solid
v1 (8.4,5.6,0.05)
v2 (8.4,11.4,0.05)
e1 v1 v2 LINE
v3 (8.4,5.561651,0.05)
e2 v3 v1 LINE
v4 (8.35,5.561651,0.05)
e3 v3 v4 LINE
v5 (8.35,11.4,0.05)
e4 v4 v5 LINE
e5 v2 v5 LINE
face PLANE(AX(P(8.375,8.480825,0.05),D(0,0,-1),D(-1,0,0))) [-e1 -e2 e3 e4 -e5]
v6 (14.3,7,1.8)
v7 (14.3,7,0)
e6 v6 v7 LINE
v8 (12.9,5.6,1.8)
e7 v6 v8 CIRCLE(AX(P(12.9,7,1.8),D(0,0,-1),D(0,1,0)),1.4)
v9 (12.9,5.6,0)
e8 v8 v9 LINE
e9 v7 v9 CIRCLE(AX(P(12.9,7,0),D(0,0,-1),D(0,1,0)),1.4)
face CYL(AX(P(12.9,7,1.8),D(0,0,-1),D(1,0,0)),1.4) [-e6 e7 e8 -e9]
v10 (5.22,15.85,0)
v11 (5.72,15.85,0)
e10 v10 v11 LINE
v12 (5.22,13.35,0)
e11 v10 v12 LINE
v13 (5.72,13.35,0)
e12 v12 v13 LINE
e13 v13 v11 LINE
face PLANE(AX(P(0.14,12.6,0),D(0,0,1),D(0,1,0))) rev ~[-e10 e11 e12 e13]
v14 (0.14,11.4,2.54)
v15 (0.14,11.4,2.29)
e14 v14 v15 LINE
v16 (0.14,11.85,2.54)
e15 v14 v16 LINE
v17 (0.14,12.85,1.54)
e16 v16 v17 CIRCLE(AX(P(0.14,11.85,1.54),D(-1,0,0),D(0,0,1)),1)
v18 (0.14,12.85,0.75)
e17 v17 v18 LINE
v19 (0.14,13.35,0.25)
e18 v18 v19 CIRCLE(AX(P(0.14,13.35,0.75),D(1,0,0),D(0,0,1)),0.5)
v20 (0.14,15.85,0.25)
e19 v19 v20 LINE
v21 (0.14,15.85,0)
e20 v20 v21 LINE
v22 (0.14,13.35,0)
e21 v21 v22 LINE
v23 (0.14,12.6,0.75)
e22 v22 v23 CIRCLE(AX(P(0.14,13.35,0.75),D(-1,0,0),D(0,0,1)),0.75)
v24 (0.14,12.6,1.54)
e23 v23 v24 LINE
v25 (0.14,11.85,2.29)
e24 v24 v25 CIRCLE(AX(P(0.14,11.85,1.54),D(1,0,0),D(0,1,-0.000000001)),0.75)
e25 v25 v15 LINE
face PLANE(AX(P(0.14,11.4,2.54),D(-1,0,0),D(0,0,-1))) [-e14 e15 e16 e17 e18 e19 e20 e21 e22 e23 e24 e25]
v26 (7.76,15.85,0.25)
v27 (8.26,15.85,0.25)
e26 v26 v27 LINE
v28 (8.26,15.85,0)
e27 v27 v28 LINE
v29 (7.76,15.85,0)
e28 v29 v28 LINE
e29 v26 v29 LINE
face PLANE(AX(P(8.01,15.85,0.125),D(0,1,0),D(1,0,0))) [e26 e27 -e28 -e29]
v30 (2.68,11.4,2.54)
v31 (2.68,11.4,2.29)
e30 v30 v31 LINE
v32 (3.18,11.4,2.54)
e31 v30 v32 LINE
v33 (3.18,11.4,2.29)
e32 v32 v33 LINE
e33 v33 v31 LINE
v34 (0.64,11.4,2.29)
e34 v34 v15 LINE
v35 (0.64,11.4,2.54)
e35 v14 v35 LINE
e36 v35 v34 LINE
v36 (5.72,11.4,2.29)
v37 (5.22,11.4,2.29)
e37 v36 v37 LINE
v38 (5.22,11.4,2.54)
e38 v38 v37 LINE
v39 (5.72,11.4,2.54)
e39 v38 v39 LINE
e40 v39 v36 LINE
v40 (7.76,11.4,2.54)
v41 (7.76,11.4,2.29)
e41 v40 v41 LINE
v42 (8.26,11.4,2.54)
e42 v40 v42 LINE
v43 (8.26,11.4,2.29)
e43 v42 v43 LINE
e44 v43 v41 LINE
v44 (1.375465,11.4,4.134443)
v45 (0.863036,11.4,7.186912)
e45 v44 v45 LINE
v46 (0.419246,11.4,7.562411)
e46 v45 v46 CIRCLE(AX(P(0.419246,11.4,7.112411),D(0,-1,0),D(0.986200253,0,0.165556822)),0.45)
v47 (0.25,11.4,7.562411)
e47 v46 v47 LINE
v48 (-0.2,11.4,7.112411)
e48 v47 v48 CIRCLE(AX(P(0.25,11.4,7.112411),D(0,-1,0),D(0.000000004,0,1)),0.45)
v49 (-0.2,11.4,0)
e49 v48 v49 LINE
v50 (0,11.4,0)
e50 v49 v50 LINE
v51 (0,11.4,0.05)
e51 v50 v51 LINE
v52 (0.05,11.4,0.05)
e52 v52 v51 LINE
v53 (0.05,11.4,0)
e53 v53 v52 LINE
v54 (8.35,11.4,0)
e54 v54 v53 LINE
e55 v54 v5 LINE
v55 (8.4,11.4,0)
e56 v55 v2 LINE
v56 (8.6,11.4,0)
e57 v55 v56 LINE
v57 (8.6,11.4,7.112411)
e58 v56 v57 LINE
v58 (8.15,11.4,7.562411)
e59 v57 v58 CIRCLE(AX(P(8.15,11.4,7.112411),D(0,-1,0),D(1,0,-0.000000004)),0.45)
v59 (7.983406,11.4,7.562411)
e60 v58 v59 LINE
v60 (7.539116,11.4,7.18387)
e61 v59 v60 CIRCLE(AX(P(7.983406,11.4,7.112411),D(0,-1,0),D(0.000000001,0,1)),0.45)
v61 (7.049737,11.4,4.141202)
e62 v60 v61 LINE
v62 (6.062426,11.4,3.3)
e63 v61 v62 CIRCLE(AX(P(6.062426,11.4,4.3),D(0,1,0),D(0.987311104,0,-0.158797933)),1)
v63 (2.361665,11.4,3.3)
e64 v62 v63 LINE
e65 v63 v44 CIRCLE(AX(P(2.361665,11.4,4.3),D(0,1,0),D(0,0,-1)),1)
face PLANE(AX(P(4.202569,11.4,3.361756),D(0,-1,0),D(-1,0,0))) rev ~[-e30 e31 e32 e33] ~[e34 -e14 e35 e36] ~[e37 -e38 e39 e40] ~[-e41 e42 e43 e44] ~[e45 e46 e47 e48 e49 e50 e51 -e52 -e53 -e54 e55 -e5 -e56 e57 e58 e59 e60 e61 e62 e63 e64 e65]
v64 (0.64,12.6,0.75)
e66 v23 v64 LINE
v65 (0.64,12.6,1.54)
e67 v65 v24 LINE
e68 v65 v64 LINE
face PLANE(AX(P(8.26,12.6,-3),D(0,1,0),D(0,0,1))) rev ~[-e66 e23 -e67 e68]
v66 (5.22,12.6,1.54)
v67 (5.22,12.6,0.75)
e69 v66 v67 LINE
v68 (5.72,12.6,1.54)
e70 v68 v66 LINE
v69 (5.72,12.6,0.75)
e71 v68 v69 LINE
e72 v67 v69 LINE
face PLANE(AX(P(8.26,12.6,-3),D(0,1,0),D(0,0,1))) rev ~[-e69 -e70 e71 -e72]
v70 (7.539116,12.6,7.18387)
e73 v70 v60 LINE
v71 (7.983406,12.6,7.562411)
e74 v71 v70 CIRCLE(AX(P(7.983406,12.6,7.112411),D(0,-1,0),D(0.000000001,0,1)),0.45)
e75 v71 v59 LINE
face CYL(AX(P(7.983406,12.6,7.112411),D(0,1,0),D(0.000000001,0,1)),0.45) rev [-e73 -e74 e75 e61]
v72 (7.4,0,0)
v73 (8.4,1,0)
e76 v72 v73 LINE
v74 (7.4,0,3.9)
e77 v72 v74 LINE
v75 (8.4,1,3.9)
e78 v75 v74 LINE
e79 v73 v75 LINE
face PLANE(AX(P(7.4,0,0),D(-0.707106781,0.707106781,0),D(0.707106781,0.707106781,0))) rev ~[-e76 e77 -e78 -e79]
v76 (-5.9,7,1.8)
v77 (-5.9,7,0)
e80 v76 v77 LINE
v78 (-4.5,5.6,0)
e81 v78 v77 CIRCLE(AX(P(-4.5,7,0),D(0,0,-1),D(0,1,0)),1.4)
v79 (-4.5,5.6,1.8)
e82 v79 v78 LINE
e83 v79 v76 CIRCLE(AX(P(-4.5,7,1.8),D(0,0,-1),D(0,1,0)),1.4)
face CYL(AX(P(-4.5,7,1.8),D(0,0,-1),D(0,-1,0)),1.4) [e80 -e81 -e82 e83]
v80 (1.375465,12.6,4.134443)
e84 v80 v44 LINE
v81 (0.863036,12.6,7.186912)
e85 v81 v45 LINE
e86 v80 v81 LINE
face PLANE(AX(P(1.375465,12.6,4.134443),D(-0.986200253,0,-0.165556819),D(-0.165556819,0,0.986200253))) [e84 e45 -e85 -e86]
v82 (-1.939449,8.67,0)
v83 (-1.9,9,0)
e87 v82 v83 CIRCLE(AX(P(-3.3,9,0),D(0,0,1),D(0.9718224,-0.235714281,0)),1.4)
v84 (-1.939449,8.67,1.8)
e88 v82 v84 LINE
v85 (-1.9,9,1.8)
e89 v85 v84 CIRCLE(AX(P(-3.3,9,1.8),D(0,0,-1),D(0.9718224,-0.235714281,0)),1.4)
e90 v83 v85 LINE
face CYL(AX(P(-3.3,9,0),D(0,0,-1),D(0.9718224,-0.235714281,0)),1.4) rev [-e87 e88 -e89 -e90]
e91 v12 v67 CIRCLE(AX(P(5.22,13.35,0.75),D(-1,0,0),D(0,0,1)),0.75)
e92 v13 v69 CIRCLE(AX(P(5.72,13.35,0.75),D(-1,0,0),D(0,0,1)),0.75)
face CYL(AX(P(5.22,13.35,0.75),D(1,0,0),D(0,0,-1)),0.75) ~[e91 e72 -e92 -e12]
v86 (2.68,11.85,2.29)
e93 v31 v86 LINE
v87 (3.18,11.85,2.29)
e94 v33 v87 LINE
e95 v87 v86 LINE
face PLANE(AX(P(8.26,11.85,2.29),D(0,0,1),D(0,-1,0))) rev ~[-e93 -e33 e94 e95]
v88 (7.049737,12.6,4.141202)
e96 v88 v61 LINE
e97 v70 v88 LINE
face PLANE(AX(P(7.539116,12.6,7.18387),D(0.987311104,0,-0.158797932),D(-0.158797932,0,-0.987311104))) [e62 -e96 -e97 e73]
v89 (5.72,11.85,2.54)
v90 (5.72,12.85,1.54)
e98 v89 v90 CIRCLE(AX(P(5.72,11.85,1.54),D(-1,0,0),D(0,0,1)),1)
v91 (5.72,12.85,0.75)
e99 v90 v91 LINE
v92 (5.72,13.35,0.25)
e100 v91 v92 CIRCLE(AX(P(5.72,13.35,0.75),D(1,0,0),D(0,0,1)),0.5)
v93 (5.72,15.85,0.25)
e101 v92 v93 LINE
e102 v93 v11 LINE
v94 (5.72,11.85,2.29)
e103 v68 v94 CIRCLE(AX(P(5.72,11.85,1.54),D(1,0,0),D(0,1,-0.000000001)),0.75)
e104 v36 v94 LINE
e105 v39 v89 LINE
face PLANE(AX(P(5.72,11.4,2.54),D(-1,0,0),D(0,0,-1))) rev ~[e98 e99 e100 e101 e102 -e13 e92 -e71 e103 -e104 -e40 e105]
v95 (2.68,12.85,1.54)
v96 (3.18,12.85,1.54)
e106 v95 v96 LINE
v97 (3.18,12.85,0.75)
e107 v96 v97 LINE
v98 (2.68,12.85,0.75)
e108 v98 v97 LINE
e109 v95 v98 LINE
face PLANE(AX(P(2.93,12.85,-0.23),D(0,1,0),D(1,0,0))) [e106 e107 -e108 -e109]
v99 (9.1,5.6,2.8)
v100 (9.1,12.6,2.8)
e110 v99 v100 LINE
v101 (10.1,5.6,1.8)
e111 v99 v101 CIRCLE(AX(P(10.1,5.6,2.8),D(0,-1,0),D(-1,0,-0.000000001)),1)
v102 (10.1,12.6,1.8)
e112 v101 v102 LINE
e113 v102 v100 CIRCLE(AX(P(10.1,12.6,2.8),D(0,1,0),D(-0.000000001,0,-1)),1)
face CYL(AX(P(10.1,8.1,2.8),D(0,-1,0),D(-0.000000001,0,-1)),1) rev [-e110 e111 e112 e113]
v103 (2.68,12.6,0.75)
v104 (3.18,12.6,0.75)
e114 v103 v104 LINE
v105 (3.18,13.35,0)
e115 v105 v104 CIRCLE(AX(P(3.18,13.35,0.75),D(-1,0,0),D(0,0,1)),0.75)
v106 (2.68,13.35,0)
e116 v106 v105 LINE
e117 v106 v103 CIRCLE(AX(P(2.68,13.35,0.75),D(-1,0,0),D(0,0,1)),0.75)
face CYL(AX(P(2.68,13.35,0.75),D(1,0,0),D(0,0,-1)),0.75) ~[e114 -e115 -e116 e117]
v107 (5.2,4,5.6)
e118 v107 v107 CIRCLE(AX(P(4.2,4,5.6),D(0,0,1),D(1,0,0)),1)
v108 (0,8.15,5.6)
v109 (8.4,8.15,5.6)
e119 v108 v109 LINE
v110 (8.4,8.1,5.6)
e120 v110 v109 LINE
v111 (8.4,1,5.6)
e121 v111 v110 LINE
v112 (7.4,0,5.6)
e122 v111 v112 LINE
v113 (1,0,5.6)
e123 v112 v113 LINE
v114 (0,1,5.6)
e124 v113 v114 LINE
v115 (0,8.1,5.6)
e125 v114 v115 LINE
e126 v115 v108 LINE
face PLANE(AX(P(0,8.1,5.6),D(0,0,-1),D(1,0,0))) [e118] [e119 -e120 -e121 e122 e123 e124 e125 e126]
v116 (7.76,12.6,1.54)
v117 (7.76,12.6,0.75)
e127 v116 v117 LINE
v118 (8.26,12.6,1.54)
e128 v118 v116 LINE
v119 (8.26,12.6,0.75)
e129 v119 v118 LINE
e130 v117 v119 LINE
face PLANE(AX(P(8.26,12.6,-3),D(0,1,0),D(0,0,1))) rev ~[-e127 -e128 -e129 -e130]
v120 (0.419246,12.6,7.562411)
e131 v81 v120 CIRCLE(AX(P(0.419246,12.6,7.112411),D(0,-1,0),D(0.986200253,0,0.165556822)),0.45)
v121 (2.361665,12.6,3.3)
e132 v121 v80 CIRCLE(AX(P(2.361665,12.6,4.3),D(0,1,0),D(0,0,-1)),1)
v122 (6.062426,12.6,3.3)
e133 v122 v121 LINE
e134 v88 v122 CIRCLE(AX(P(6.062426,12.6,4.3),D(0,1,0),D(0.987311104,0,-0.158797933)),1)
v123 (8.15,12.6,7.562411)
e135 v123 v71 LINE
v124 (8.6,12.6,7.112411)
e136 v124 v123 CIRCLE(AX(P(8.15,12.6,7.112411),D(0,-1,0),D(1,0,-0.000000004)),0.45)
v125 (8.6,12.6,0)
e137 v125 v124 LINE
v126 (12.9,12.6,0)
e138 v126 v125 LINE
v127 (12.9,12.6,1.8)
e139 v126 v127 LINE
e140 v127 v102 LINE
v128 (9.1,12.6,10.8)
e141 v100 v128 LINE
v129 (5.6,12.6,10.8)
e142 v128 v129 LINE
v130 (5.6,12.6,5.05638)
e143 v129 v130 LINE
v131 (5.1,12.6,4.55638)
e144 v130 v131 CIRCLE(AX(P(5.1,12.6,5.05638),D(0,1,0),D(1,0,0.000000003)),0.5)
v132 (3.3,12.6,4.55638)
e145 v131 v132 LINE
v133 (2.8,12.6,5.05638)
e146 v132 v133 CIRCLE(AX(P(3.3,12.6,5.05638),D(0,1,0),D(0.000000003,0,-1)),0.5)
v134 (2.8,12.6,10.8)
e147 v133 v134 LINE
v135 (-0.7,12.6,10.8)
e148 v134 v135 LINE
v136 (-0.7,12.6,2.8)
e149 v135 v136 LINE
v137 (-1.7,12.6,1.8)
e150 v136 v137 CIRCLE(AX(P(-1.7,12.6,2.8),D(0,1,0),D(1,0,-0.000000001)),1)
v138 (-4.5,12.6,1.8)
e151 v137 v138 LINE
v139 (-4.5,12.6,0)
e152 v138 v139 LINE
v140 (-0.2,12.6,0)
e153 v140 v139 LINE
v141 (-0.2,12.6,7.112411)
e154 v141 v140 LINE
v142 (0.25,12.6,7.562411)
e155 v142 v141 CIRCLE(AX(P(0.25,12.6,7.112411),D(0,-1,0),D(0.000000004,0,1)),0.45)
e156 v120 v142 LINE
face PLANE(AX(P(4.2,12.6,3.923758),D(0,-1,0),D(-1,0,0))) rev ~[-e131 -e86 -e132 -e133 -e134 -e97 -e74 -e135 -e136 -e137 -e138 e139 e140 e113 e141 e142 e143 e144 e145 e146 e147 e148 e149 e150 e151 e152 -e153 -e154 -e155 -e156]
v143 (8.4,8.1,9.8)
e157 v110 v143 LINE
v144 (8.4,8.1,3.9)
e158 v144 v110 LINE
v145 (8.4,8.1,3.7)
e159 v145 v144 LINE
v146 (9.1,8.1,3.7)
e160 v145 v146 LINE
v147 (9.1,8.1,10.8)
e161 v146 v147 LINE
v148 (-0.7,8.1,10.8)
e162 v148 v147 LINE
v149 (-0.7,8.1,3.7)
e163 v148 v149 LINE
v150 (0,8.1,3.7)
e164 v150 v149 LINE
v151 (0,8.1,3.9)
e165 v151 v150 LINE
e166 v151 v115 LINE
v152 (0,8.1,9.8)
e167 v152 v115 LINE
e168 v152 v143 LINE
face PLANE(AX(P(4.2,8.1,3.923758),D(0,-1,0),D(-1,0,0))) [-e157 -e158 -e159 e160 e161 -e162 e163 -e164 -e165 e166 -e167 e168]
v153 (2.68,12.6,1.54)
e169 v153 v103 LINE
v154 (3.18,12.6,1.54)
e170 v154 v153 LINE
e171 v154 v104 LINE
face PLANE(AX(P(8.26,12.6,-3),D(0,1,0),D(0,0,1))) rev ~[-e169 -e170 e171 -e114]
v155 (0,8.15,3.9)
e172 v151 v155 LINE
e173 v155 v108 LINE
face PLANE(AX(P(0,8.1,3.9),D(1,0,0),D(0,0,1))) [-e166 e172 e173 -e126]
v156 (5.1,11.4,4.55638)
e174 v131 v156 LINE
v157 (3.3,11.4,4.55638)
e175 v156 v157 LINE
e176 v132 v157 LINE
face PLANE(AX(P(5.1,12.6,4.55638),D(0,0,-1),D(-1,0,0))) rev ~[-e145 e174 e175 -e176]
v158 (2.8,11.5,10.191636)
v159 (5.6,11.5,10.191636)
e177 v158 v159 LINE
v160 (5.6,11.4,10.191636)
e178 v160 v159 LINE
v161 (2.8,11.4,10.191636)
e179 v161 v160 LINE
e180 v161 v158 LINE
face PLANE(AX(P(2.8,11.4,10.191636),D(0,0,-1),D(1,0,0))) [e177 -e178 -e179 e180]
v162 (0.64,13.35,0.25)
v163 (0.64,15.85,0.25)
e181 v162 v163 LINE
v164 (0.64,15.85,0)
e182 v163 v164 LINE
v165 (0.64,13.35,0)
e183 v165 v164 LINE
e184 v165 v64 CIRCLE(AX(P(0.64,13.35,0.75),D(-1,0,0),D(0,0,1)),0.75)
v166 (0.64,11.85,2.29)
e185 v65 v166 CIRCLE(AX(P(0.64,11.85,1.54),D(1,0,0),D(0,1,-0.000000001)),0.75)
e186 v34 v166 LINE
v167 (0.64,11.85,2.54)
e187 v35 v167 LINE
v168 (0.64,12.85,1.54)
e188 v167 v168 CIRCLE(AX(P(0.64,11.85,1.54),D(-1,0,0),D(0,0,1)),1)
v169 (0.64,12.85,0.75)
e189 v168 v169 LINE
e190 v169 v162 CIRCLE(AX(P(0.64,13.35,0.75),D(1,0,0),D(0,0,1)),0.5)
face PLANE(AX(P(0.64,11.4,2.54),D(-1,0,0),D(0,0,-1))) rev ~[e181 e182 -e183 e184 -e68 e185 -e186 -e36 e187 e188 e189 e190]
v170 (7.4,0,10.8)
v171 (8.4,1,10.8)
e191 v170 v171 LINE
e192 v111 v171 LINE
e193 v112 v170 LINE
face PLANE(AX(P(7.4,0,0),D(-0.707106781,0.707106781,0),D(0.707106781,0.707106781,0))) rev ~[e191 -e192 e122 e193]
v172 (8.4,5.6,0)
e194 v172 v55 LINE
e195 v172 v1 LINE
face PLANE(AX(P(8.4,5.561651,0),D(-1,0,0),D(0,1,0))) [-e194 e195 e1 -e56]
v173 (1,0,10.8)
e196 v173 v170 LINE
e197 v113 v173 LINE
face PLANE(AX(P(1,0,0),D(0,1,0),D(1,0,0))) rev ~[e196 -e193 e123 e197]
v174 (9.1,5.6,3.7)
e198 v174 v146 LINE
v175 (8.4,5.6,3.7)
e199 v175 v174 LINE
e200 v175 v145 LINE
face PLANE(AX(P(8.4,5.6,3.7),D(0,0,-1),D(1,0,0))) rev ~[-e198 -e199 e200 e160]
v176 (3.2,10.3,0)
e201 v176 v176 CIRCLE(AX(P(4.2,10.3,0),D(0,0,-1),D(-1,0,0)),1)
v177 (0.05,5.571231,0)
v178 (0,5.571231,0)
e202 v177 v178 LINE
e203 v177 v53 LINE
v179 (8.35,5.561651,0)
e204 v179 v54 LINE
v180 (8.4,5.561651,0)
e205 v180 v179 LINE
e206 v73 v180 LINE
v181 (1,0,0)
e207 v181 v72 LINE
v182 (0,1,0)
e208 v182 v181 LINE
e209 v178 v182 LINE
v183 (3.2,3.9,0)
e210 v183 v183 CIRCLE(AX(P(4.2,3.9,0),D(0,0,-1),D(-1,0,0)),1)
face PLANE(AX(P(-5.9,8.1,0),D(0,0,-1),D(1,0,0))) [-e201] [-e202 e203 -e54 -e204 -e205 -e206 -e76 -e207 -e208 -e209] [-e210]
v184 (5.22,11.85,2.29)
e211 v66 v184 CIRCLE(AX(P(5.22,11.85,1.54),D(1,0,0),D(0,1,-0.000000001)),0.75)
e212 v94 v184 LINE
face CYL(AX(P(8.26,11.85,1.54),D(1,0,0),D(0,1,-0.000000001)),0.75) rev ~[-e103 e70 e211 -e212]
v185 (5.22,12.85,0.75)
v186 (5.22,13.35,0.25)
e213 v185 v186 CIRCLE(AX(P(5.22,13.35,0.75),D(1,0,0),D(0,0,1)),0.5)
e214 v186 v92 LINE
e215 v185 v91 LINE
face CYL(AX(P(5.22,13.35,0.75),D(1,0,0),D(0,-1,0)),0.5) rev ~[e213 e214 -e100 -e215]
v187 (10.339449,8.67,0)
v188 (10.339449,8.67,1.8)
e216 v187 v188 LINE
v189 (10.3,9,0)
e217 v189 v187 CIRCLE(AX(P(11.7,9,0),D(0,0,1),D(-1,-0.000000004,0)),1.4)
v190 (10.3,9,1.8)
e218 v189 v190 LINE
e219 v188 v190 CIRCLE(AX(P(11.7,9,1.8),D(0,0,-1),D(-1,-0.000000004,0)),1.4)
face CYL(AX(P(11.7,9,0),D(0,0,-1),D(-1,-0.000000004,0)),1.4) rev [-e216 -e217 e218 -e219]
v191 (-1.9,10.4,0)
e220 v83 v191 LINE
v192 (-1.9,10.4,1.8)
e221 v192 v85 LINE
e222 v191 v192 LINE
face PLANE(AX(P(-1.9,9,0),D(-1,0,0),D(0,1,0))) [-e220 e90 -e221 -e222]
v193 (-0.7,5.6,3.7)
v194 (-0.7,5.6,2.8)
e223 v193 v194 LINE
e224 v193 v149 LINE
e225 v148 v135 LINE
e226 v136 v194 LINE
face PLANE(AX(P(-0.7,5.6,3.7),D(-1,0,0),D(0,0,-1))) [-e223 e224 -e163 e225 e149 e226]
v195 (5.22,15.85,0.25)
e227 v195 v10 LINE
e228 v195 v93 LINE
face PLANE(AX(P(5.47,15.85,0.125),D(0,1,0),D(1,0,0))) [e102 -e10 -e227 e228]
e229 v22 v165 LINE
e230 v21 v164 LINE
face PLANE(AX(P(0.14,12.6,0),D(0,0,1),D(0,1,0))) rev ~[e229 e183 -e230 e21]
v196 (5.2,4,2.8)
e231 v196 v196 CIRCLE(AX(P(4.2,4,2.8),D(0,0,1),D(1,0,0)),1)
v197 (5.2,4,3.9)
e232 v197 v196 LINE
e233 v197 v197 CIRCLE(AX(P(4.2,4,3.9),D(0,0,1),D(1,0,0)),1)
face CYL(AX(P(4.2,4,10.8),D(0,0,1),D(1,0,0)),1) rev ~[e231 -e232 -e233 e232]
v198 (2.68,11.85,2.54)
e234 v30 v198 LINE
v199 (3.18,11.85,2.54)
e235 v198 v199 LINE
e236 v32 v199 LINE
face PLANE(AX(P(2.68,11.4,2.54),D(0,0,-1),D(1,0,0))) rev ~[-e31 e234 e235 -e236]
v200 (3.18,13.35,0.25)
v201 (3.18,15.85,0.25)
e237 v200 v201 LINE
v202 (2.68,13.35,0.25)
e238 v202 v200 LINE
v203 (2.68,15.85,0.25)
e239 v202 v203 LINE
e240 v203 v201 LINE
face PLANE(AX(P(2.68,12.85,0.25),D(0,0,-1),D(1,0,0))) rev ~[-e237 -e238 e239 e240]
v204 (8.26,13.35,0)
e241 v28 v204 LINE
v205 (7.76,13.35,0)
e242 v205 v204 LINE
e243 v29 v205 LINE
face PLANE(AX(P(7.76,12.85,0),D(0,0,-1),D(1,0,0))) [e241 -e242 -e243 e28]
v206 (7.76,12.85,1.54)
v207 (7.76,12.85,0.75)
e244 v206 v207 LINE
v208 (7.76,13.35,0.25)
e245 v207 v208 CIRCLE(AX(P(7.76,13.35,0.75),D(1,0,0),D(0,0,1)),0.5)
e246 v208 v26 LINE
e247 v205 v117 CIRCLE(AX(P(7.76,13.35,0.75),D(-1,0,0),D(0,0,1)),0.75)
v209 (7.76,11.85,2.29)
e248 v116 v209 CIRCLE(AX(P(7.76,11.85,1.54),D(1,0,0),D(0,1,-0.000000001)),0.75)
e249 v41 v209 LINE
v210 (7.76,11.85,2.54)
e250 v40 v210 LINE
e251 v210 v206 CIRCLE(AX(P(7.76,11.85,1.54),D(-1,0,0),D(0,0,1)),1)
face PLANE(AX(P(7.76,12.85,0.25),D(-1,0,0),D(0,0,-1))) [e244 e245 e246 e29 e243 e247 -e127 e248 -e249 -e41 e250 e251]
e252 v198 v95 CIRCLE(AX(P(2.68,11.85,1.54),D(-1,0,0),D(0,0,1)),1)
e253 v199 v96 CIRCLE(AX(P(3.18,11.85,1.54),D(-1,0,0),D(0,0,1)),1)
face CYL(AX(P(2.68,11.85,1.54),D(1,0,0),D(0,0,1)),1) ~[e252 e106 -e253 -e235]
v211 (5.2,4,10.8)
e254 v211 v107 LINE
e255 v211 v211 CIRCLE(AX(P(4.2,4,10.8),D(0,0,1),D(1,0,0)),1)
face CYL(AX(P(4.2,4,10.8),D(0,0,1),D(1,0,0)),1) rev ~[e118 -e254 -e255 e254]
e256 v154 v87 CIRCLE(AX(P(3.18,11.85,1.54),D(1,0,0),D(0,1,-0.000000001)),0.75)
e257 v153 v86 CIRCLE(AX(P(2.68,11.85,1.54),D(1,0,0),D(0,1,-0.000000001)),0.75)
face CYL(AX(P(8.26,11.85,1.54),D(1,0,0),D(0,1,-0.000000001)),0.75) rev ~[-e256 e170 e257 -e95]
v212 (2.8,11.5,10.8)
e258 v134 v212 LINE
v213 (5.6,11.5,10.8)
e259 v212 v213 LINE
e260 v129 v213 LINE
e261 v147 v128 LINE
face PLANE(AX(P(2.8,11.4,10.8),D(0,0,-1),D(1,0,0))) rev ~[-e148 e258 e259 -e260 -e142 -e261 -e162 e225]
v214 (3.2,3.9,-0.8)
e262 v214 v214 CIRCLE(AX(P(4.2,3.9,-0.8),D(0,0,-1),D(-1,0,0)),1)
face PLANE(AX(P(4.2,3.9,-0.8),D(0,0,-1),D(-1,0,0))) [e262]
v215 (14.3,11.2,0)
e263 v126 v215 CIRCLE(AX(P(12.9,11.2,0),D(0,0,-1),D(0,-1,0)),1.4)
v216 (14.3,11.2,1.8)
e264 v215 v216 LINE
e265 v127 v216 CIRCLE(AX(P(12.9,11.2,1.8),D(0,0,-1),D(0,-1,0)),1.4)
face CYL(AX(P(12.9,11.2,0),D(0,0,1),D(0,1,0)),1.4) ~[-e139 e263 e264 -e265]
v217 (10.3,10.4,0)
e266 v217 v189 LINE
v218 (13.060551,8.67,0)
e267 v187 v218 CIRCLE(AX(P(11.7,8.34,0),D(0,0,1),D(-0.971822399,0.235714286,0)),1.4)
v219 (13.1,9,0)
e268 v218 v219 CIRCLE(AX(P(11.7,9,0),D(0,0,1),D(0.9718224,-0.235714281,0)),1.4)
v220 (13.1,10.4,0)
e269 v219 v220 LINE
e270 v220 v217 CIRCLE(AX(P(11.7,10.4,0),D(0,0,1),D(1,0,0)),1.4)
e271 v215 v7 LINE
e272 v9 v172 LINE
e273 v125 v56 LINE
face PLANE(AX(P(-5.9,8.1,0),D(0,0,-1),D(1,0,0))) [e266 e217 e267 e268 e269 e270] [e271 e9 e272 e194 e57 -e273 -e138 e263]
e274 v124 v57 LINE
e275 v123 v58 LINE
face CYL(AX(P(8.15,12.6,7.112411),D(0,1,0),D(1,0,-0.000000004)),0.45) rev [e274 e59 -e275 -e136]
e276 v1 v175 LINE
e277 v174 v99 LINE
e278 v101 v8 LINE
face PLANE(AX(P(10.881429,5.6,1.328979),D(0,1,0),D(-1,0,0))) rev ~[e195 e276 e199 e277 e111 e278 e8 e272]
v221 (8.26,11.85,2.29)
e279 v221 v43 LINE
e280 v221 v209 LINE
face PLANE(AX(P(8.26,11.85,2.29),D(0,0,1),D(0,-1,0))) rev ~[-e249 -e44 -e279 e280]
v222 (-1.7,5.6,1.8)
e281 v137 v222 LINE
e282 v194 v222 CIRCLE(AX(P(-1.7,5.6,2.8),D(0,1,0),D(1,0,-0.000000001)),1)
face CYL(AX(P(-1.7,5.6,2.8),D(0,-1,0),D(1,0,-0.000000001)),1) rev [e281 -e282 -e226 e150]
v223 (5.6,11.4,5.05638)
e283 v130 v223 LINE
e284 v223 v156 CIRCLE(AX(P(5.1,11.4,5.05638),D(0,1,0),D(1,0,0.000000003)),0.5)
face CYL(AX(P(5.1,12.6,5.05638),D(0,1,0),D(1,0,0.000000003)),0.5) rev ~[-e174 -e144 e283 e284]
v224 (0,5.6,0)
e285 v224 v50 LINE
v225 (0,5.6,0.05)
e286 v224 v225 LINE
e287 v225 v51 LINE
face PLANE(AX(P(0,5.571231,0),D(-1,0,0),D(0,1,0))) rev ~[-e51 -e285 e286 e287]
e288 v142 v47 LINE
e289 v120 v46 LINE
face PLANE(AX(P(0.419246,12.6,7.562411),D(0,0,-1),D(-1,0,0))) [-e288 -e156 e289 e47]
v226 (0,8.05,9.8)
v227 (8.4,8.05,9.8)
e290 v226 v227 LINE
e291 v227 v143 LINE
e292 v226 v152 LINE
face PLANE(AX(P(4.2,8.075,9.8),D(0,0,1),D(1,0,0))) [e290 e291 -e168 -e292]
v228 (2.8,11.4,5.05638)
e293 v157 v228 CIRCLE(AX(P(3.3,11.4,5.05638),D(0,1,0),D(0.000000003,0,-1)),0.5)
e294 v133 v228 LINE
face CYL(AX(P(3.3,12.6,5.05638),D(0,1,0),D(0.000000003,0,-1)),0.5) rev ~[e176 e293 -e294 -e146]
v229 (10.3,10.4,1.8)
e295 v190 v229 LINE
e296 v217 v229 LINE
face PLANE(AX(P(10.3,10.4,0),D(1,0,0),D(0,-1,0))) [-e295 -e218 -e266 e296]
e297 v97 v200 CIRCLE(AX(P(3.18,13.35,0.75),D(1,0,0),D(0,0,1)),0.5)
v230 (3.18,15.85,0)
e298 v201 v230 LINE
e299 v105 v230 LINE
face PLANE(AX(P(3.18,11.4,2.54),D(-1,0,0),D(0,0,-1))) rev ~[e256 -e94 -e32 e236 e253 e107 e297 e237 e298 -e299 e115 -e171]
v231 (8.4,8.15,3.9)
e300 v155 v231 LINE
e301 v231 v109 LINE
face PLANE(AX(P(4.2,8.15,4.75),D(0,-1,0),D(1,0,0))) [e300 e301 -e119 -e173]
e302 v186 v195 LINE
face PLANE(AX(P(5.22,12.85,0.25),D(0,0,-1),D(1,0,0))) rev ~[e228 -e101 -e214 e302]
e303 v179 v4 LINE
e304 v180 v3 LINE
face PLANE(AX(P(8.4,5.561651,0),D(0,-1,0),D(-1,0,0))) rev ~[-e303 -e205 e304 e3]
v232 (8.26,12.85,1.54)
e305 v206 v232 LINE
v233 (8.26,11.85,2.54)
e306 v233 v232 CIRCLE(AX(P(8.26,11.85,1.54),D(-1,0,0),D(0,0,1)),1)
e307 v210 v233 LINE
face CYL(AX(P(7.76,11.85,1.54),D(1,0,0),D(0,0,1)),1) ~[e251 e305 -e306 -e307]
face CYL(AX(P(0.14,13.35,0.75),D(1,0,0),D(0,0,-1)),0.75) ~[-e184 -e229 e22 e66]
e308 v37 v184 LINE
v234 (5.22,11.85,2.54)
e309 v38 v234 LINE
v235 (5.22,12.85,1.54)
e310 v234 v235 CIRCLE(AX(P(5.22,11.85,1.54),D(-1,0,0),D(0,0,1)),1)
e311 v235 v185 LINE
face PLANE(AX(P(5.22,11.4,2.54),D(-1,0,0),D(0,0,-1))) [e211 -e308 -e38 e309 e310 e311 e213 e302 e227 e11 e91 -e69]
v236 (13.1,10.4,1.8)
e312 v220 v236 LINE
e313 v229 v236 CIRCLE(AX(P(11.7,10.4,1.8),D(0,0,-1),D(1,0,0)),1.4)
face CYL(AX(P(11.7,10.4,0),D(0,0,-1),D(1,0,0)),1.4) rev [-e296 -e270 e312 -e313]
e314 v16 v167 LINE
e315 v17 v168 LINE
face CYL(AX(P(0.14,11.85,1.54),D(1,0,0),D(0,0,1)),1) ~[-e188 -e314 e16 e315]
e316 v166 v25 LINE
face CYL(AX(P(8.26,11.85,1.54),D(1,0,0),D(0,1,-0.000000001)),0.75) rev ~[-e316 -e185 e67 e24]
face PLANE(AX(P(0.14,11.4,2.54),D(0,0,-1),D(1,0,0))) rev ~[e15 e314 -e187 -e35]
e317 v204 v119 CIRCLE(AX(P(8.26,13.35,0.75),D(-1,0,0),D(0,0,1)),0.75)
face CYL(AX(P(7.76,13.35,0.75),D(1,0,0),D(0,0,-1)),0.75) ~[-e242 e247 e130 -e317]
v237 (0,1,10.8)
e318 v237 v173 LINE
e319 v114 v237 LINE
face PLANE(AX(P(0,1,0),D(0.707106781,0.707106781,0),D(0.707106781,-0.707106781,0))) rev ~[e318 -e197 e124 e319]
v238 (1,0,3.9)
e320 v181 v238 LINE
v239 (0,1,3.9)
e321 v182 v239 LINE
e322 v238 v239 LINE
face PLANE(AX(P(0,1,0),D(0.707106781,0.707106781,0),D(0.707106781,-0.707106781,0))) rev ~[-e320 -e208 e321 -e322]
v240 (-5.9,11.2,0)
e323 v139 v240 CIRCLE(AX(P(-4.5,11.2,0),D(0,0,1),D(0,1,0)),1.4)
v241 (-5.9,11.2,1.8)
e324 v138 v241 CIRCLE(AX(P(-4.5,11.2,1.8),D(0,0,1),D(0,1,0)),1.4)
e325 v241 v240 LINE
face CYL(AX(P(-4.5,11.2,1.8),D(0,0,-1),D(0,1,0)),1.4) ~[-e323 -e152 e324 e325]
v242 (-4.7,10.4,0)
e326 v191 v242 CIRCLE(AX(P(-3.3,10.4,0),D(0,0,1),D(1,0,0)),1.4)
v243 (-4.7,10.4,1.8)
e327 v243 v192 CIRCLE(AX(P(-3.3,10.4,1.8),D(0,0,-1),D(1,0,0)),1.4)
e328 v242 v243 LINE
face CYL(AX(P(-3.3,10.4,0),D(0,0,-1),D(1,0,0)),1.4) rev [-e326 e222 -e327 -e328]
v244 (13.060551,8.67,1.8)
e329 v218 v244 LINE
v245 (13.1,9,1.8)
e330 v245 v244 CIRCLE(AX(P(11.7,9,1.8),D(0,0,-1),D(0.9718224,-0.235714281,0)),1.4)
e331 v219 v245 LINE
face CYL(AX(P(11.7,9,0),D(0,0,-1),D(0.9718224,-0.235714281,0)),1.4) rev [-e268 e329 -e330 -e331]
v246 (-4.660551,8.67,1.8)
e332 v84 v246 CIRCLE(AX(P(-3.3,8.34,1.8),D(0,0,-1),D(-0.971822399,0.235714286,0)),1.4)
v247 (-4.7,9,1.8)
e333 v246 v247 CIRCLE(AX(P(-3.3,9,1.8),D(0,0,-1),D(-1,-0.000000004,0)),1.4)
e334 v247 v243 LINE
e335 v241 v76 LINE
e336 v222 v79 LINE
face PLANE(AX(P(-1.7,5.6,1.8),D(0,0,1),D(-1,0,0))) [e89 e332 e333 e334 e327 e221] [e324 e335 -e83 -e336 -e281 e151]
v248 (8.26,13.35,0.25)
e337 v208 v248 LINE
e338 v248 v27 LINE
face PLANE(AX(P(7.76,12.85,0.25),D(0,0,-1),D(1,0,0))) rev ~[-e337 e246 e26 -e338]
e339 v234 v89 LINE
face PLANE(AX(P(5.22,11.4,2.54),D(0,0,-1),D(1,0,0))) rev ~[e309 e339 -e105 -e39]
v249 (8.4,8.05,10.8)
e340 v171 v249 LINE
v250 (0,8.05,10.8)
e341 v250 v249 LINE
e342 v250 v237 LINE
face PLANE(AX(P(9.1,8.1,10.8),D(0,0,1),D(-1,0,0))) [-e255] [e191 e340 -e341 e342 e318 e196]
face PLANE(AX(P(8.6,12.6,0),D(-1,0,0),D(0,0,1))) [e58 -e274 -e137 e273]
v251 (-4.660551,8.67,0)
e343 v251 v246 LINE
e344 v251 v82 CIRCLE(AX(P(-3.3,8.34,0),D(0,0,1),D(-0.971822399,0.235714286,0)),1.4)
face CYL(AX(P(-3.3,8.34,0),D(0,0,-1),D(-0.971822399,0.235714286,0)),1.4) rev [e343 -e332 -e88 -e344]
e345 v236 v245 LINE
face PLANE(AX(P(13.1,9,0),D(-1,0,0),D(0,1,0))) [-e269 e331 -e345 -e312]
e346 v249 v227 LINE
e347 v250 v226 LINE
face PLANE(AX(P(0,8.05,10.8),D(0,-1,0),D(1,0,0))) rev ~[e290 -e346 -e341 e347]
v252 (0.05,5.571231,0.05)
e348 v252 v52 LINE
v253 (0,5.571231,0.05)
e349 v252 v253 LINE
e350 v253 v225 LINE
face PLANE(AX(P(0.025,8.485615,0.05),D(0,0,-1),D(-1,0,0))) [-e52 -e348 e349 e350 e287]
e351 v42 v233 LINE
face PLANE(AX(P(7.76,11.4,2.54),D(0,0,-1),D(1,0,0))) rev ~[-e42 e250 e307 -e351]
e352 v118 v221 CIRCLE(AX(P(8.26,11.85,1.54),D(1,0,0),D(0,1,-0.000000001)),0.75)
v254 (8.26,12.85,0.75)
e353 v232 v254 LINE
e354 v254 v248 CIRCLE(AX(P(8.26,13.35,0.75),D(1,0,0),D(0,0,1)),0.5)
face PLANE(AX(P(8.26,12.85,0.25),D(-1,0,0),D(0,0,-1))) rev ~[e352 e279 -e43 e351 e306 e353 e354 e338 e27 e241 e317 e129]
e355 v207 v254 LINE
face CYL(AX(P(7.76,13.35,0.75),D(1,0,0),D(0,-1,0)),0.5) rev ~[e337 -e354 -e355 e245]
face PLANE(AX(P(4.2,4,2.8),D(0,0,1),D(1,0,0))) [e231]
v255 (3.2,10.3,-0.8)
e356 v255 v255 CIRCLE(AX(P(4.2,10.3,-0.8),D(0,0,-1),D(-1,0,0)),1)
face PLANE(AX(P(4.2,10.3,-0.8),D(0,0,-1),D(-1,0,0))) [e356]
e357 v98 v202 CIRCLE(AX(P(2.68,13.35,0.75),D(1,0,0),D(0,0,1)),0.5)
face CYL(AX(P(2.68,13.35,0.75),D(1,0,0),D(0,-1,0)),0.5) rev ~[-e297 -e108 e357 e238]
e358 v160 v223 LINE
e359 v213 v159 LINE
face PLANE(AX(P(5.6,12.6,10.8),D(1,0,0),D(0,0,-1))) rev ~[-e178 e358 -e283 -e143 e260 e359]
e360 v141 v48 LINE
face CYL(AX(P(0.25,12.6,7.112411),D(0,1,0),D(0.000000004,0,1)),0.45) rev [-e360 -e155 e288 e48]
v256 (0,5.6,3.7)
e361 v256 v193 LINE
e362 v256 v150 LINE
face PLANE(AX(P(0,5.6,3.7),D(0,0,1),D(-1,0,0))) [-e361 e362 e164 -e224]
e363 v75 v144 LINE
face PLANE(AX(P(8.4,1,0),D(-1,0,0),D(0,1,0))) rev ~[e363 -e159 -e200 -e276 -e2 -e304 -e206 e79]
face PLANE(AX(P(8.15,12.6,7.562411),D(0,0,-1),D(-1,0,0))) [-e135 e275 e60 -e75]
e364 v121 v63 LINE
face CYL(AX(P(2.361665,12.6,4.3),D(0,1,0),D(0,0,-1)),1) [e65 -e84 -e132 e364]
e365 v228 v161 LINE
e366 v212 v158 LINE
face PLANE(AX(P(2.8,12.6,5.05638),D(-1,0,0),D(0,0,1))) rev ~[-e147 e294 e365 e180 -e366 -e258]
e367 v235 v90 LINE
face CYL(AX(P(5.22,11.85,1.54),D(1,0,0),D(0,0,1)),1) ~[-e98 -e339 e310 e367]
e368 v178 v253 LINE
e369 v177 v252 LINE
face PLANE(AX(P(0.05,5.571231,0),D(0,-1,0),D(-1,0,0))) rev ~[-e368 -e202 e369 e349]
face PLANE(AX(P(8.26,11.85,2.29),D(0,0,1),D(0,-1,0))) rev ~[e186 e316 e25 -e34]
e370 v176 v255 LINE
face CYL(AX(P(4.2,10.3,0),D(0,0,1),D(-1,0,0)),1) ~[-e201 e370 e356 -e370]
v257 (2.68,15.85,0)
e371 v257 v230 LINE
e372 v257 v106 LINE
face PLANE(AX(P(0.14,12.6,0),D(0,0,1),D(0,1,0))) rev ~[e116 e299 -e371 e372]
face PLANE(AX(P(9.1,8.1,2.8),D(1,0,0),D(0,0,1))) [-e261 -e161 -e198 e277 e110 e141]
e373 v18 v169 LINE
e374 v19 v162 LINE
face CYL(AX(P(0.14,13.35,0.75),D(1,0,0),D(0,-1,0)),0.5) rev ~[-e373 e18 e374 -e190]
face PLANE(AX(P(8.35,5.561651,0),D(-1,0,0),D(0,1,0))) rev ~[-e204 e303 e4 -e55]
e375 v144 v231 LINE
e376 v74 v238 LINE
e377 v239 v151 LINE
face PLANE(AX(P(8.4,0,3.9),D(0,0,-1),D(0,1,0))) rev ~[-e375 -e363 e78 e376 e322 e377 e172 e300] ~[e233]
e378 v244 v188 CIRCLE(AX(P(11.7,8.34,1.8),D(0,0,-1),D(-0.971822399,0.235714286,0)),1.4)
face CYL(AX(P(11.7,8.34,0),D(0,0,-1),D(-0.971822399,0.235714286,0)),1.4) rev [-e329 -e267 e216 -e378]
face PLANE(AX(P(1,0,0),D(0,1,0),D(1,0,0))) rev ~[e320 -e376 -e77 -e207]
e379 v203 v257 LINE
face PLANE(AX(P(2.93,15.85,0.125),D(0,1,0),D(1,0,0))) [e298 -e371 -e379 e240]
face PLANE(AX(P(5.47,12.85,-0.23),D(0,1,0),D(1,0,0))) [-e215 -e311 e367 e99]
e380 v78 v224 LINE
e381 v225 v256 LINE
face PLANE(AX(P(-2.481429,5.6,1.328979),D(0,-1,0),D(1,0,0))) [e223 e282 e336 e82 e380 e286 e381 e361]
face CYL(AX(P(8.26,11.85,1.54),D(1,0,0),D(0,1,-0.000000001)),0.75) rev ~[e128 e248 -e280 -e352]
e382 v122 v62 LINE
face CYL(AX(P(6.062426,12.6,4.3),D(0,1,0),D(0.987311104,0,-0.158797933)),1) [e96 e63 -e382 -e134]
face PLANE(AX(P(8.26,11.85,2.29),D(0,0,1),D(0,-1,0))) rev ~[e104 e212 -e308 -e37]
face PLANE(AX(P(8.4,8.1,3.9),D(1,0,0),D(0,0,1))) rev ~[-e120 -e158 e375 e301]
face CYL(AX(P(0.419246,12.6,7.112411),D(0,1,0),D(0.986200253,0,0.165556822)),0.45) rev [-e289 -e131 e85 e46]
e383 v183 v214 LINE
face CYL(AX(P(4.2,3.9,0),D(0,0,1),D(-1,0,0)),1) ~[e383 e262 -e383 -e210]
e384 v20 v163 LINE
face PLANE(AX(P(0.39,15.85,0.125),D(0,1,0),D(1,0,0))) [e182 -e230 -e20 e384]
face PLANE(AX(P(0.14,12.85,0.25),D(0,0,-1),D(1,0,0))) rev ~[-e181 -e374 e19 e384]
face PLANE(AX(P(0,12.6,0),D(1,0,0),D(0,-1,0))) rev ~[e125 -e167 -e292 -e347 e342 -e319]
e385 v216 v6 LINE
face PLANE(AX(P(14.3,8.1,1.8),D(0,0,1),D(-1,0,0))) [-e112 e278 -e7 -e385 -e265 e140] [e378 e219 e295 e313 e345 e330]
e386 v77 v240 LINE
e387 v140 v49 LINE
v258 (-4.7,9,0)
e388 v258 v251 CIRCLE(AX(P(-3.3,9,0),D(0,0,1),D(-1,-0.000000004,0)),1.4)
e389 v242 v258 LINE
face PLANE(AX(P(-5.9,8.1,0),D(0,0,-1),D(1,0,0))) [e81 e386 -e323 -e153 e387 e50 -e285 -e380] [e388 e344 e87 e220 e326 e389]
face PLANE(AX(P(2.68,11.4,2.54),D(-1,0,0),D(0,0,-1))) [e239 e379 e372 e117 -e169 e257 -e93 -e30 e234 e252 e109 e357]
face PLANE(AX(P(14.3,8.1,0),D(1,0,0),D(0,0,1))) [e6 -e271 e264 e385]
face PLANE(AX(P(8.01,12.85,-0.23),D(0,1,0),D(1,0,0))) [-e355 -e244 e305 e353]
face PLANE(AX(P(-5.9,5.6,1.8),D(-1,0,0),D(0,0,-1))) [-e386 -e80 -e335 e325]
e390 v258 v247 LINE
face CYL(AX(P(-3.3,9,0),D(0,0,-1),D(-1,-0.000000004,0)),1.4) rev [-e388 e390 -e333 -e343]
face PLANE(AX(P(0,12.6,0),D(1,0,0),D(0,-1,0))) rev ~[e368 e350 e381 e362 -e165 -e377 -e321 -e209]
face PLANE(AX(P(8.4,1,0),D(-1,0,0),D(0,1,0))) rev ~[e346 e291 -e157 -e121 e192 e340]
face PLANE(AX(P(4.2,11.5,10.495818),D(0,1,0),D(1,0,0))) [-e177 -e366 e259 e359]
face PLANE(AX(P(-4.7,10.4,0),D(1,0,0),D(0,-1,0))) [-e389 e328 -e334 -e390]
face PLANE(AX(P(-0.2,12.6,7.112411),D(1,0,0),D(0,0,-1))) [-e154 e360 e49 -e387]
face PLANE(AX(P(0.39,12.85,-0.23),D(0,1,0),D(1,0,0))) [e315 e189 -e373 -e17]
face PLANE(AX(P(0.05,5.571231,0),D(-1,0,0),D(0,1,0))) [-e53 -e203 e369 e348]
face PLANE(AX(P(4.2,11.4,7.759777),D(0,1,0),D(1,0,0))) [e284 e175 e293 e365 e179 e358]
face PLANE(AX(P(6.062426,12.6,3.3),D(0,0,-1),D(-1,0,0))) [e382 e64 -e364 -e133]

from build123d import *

# Parameters (mm, degrees)
EXTRUDE_1_DEPTH      = 10.8
SKETCH_2_R           = 1
EXTRUDE_2_DEPTH      = 0.8
SKETCH_3_W           = 1.7
SKETCH_3_H           = 8.1
CUT_EXTRUDE_1_DEPTH  = 17.8
EXTRUDE_START        = -4.5
EXTRUDE_3_DEPTH      = 4.5
SKETCH_5_W           = 8.4
SKETCH_5_H           = 0.05
CUT_EXTRUDE_2_DEPTH  = 1
SKETCH_6_R           = 1
CUT_EXTRUDE_3_DEPTH  = 8
CUT_EXTRUDE_4_DEPTH  = 1.2
SKETCH_8_W           = 2.8
SKETCH_8_H           = 0.608363533
EXTRUDE_4_DEPTH      = 0.1
EXTRUDE_START_2      = 2.5
EXTRUDE_5_DEPTH      = 2.5
SKETCH_10_W          = 8.4
SKETCH_10_H          = 1.7
CUT_EXTRUDE_5_DEPTH  = 0.05
FILLET_1_R           = 1.4
SKETCH_11_W          = 0.05
SKETCH_11_H          = 5.83834946
SKETCH_11_H_2        = 5.828769054
CUT_EXTRUDE_8_DEPTH  = 0.05
CUT_EXTRUDE_9_DEPTH  = 4
SKETCH_13_W          = 0.5
SKETCH_13_H          = 5.54
EXTRUDE_6_DEPTH      = 1.45
FILLET_2_R           = 1
CUT_EXTRUDE_START    = -8.12
CUT_EXTRUDE_10_DEPTH = 8.12
SKETCH_15_W          = 3
SKETCH_15_H          = 0.25
CUT_EXTRUDE_11_DEPTH = 8.12
SKETCH_16_W          = 0.5
SKETCH_16_H          = 0.25
EXTRUDE_7_DEPTH      = 3
FILLET_3_R           = 0.5
FILLET_4_R           = 0.75


with BuildPart() as part:
    # Эскиз1 → Бобышка-Вытянуть1 (new body)
    with BuildSketch(Plane.XY):
        Polygon((7.4, 0), (8.4, 1), (8.4, 12.6), (0, 12.6), (0, 1), (1, 0), align=None)
    extrude(amount=EXTRUDE_1_DEPTH)

    # Эскиз2 → Бобышка-Вытянуть2 (add)
    with BuildSketch(Plane(origin=(0, 0, 0), x_dir=(-1, 0, 0), z_dir=(0, 0, -1))):
        with Locations((-4.2, 10.3)):
            Circle(SKETCH_2_R)
        with Locations((-4.2, 3.9)):
            Circle(SKETCH_2_R)
    extrude(amount=EXTRUDE_2_DEPTH)

    # Эскиз3 → Вырез-Вытянуть1 (cut)
    with BuildSketch(Plane(origin=(8.4, 0, 0), x_dir=(0, 0, -1), z_dir=(1, 0, 0))):
        with Locations((-4.75, 4.05)):
            Rectangle(SKETCH_3_W, SKETCH_3_H)
    extrude(amount=-CUT_EXTRUDE_1_DEPTH, mode=Mode.SUBTRACT)

    # Эскиз4 → Бобышка-Вытянуть3 (add)
    with BuildSketch(Plane(origin=(0, 12.6, 0), x_dir=(1, 0, 0), z_dir=(0, 1, 0)).offset(EXTRUDE_START)):
        with BuildLine():
            Line((9.1, -10.8), (-0.7, -10.8))
            Line((-0.7, -10.8), (-0.7, -2.8))
            ThreePointArc((-0.7, -2.8), (-0.992893219, -2.092893219), (-1.7, -1.8))
            Line((-1.7, -1.8), (-5.9, -1.8))
            Line((-5.9, -1.8), (-5.9, 0))
            Line((-5.9, 0), (14.3, 0))
            Line((14.3, 0), (14.3, -1.8))
            Line((14.3, -1.8), (10.1, -1.8))
            ThreePointArc((10.1, -1.8), (9.392893219, -2.092893219), (9.1, -2.8))
            Line((9.1, -2.8), (9.1, -10.8))
        make_face()
    extrude(amount=EXTRUDE_3_DEPTH)

    # Эскиз5 → Вырез-Вытянуть2 (cut)
    with BuildSketch(Plane.XY.offset(10.8)):
        with Locations((4.2, 8.075)):
            Rectangle(SKETCH_5_W, SKETCH_5_H)
    extrude(amount=-CUT_EXTRUDE_2_DEPTH, mode=Mode.SUBTRACT)

    # Эскиз6 → Вырез-Вытянуть3 (cut)
    with BuildSketch(Plane.XY.offset(10.8)):
        with Locations((4.2, 4)):
            Circle(SKETCH_6_R)
    extrude(amount=-CUT_EXTRUDE_3_DEPTH, mode=Mode.SUBTRACT)

    # Эскиз7 → Вырез-Вытянуть4 (cut)
    with BuildSketch(Plane(origin=(0, 12.6, 0), x_dir=(1, 0, 0), z_dir=(0, 1, 0))):
        with BuildLine():
            Line((8.6, 0), (8.6, -7.112411136))
            ThreePointArc((8.6, -7.112411136), (8.468198052, -7.430609188), (8.15, -7.562411136))
            Line((8.15, -7.562411136), (7.983405928, -7.562411136))
            ThreePointArc((7.983405928, -7.562411136), (7.691564003, -7.454943311), (7.539115931, -7.183870205))
            Line((7.539115931, -7.183870205), (7.049736844, -4.141202068))
            ThreePointArc((7.049736844, -4.141202068), (6.710963351, -3.53881739), (6.062425739, -3.3))
            Line((6.062425739, -3.3), (2.361664993, -3.3))
            ThreePointArc((2.361664993, -3.3), (1.71573807, -3.536600753), (1.37546474, -4.13444318))
            Line((1.37546474, -4.13444318), (0.863036378, -7.186911705))
            ThreePointArc((0.863036378, -7.186911705), (0.709913379, -7.455940797), (0.419246264, -7.562411136))
            Line((0.419246264, -7.562411136), (0.25, -7.562411136))
            ThreePointArc((0.25, -7.562411136), (-0.068198052, -7.430609188), (-0.2, -7.112411136))
            Line((-0.2, -7.112411136), (-0.2, 0))
            Line((-0.2, 0), (8.6, 0))
        make_face()
        with BuildLine():
            Line((4.2, -10.8), (5.6, -10.8))
            Line((5.6, -10.8), (5.6, -5.056380156))
            ThreePointArc((5.6, -5.056380156), (5.453553391, -4.702826765), (5.1, -4.556380156))
            Line((5.1, -4.556380156), (3.3, -4.556380156))
            ThreePointArc((3.3, -4.556380156), (2.946446609, -4.702826765), (2.8, -5.056380156))
            Line((2.8, -5.056380156), (2.8, -10.8))
            Line((2.8, -10.8), (4.2, -10.8))
        make_face()
    extrude(amount=-CUT_EXTRUDE_4_DEPTH, mode=Mode.SUBTRACT)

    # Эскиз8 → Бобышка-Вытянуть4 (add)
    with BuildSketch(Plane(origin=(0, 11.4, 0), x_dir=(1, 0, 0), z_dir=(0, 1, 0))):
        with Locations((4.2, -10.495818233)):
            Rectangle(SKETCH_8_W, SKETCH_8_H)
    extrude(amount=EXTRUDE_4_DEPTH)

    # Эскиз9 → Бобышка-Вытянуть5 (add)
    with BuildSketch(Plane.XZ.offset(-8.1).offset(EXTRUDE_START_2)):
        with BuildLine():
            Line((0, 0), (0, 3.7))
            Line((0, 3.7), (-0.7, 3.7))
            Line((-0.7, 3.7), (-0.7, 2.8))
            ThreePointArc((-0.7, 2.8), (-0.992893219, 2.092893219), (-1.7, 1.8))
            Line((-1.7, 1.8), (-5.9, 1.8))
            Line((-5.9, 1.8), (-5.9, 0))
            Line((-5.9, 0), (0, 0))
        make_face()
        with BuildLine():
            Line((14.3, 0), (8.4, 0))
            Line((8.4, 0), (8.4, 3.7))
            Line((8.4, 3.7), (9.1, 3.7))
            Line((9.1, 3.7), (9.1, 2.8))
            ThreePointArc((9.1, 2.8), (9.392893219, 2.092893219), (10.1, 1.8))
            Line((10.1, 1.8), (14.3, 1.8))
            Line((14.3, 1.8), (14.3, 0))
        make_face()
    extrude(amount=-EXTRUDE_5_DEPTH)

    # Эскиз10 → Вырез-Вытянуть5 (cut)
    with BuildSketch(Plane.XZ.offset(-8.1)):
        with Locations((4.2, 4.75)):
            Rectangle(SKETCH_10_W, SKETCH_10_H)
    extrude(amount=-CUT_EXTRUDE_5_DEPTH, mode=Mode.SUBTRACT)

    # Скругление1
    fillet_1_edges = [part.edges().sort_by_distance(p)[0] for p in [
        (-5.9, 5.6, 0.9),
        (14.3, 5.6, 0.9),
        (14.3, 12.6, 0.9),
        (-5.9, 12.6, 0.9),
    ]]
    fillet(fillet_1_edges, radius=FILLET_1_R)

    # Эскиз11 → Вырез-Вытянуть8 (cut)
    with BuildSketch(Plane(origin=(0, 0, 0), x_dir=(-1, 0, 0), z_dir=(0, 0, -1))):
        with Locations((-8.375, 8.48082527)):
            Rectangle(SKETCH_11_W, SKETCH_11_H)
        with Locations((-0.025, 8.485615473)):
            Rectangle(SKETCH_11_W, SKETCH_11_H_2)
    extrude(amount=-CUT_EXTRUDE_8_DEPTH, mode=Mode.SUBTRACT)

    # Эскиз12 → Вырез-Вытянуть9 (cut)
    with BuildSketch(Plane(origin=(0, 0, 0), x_dir=(-1, 0, 0), z_dir=(0, 0, -1))):
        with BuildLine():
            Line((1.9, 9), (1.9, 10.4))
            ThreePointArc((1.9, 10.4), (3.3, 11.8), (4.7, 10.4))
            Line((4.7, 10.4), (4.7, 9))
            ThreePointArc((4.7, 9), (4.690102856, 8.833825246), (4.660551359, 8.67))
            ThreePointArc((4.660551359, 8.67), (3.3, 6.94), (1.939448641, 8.67))
            ThreePointArc((1.939448641, 8.67), (1.909897144, 8.833825246), (1.9, 9))
        make_face()
        with BuildLine():
            Line((-10.3, 10.4), (-10.3, 9))
            ThreePointArc((-10.3, 9), (-10.309897144, 8.833825246), (-10.339448641, 8.67))
            ThreePointArc((-10.339448641, 8.67), (-11.7, 6.94), (-13.060551359, 8.67))
            ThreePointArc((-13.060551359, 8.67), (-13.090102856, 8.833825246), (-13.1, 9))
            Line((-13.1, 9), (-13.1, 10.4))
            ThreePointArc((-13.1, 10.4), (-11.7, 11.8), (-10.3, 10.4))
        make_face()
    extrude(amount=-CUT_EXTRUDE_9_DEPTH, mode=Mode.SUBTRACT)

    # Эскиз13 → Бобышка-Вытянуть6 (add)
    with BuildSketch(Plane(origin=(0, 11.4, 0), x_dir=(1, 0, 0), z_dir=(0, 1, 0))):
        with Locations((5.47, 0.23)):
            Rectangle(SKETCH_13_W, SKETCH_13_H)
        with Locations((8.01, 0.23)):
            Rectangle(SKETCH_13_W, SKETCH_13_H)
        with Locations((2.93, 0.23)):
            Rectangle(SKETCH_13_W, SKETCH_13_H)
        with Locations((0.39, 0.23)):
            Rectangle(SKETCH_13_W, SKETCH_13_H)
    extrude(amount=EXTRUDE_6_DEPTH)

    # Скругление2
    fillet_2_edges = [part.edges().sort_by_distance(p)[0] for p in [
        (5.47, 12.85, 2.54),
        (2.93, 12.85, 2.54),
        (0.39, 12.85, 2.54),
        (8.01, 12.85, 2.54),
    ]]
    fillet(fillet_2_edges, radius=FILLET_2_R)

    # Эскиз14 → Вырез-Вытянуть10 (cut)
    with BuildSketch(Plane.ZY.offset(-0.14).offset(CUT_EXTRUDE_START)):
        with BuildLine():
            Line((-3, 12.6), (1.54, 12.6))
            ThreePointArc((1.54, 12.6), (2.070330086, 12.380330086), (2.29, 11.85))
            Line((2.29, 11.85), (2.29, 11.4))
            Line((2.29, 11.4), (-3, 11.4))
            Line((-3, 11.4), (-3, 12.6))
        make_face()
    extrude(amount=CUT_EXTRUDE_10_DEPTH, mode=Mode.SUBTRACT)

    # Эскиз15 → Вырез-Вытянуть11 (cut)
    with BuildSketch(Plane(origin=(8.26, 0, 0), x_dir=(0, 0, -1), z_dir=(1, 0, 0)).offset(CUT_EXTRUDE_START)):
        with Locations((1.5, 12.725)):
            Rectangle(SKETCH_15_W, SKETCH_15_H)
    extrude(amount=CUT_EXTRUDE_11_DEPTH, mode=Mode.SUBTRACT)

    # Эскиз16 → Бобышка-Вытянуть7 (add)
    with BuildSketch(Plane(origin=(0, 12.85, 0), x_dir=(1, 0, 0), z_dir=(0, 1, 0))):
        with Locations((8.01, -0.125)):
            Rectangle(SKETCH_16_W, SKETCH_16_H)
        with Locations((5.47, -0.125)):
            Rectangle(SKETCH_16_W, SKETCH_16_H)
        with Locations((2.93, -0.125)):
            Rectangle(SKETCH_16_W, SKETCH_16_H)
        with Locations((0.39, -0.125)):
            Rectangle(SKETCH_16_W, SKETCH_16_H)
    extrude(amount=EXTRUDE_7_DEPTH)

    # Скругление3
    fillet_3_edges = [part.edges().sort_by_distance(p)[0] for p in [
        (8.01, 12.85, 0.25),
        (5.47, 12.85, 0.25),
        (2.93, 12.85, 0.25),
        (0.39, 12.85, 0.25),
    ]]
    fillet(fillet_3_edges, radius=FILLET_3_R)

    # Скругление4
    fillet_4_edges = [part.edges().sort_by_distance(p)[0] for p in [
        (5.47, 12.6, 0),
        (2.93, 12.6, 0),
        (0.39, 12.6, 0),
        (8.01, 12.6, 0),
    ]]
    fillet(fillet_4_edges, radius=FILLET_4_R)


solid = part.part
